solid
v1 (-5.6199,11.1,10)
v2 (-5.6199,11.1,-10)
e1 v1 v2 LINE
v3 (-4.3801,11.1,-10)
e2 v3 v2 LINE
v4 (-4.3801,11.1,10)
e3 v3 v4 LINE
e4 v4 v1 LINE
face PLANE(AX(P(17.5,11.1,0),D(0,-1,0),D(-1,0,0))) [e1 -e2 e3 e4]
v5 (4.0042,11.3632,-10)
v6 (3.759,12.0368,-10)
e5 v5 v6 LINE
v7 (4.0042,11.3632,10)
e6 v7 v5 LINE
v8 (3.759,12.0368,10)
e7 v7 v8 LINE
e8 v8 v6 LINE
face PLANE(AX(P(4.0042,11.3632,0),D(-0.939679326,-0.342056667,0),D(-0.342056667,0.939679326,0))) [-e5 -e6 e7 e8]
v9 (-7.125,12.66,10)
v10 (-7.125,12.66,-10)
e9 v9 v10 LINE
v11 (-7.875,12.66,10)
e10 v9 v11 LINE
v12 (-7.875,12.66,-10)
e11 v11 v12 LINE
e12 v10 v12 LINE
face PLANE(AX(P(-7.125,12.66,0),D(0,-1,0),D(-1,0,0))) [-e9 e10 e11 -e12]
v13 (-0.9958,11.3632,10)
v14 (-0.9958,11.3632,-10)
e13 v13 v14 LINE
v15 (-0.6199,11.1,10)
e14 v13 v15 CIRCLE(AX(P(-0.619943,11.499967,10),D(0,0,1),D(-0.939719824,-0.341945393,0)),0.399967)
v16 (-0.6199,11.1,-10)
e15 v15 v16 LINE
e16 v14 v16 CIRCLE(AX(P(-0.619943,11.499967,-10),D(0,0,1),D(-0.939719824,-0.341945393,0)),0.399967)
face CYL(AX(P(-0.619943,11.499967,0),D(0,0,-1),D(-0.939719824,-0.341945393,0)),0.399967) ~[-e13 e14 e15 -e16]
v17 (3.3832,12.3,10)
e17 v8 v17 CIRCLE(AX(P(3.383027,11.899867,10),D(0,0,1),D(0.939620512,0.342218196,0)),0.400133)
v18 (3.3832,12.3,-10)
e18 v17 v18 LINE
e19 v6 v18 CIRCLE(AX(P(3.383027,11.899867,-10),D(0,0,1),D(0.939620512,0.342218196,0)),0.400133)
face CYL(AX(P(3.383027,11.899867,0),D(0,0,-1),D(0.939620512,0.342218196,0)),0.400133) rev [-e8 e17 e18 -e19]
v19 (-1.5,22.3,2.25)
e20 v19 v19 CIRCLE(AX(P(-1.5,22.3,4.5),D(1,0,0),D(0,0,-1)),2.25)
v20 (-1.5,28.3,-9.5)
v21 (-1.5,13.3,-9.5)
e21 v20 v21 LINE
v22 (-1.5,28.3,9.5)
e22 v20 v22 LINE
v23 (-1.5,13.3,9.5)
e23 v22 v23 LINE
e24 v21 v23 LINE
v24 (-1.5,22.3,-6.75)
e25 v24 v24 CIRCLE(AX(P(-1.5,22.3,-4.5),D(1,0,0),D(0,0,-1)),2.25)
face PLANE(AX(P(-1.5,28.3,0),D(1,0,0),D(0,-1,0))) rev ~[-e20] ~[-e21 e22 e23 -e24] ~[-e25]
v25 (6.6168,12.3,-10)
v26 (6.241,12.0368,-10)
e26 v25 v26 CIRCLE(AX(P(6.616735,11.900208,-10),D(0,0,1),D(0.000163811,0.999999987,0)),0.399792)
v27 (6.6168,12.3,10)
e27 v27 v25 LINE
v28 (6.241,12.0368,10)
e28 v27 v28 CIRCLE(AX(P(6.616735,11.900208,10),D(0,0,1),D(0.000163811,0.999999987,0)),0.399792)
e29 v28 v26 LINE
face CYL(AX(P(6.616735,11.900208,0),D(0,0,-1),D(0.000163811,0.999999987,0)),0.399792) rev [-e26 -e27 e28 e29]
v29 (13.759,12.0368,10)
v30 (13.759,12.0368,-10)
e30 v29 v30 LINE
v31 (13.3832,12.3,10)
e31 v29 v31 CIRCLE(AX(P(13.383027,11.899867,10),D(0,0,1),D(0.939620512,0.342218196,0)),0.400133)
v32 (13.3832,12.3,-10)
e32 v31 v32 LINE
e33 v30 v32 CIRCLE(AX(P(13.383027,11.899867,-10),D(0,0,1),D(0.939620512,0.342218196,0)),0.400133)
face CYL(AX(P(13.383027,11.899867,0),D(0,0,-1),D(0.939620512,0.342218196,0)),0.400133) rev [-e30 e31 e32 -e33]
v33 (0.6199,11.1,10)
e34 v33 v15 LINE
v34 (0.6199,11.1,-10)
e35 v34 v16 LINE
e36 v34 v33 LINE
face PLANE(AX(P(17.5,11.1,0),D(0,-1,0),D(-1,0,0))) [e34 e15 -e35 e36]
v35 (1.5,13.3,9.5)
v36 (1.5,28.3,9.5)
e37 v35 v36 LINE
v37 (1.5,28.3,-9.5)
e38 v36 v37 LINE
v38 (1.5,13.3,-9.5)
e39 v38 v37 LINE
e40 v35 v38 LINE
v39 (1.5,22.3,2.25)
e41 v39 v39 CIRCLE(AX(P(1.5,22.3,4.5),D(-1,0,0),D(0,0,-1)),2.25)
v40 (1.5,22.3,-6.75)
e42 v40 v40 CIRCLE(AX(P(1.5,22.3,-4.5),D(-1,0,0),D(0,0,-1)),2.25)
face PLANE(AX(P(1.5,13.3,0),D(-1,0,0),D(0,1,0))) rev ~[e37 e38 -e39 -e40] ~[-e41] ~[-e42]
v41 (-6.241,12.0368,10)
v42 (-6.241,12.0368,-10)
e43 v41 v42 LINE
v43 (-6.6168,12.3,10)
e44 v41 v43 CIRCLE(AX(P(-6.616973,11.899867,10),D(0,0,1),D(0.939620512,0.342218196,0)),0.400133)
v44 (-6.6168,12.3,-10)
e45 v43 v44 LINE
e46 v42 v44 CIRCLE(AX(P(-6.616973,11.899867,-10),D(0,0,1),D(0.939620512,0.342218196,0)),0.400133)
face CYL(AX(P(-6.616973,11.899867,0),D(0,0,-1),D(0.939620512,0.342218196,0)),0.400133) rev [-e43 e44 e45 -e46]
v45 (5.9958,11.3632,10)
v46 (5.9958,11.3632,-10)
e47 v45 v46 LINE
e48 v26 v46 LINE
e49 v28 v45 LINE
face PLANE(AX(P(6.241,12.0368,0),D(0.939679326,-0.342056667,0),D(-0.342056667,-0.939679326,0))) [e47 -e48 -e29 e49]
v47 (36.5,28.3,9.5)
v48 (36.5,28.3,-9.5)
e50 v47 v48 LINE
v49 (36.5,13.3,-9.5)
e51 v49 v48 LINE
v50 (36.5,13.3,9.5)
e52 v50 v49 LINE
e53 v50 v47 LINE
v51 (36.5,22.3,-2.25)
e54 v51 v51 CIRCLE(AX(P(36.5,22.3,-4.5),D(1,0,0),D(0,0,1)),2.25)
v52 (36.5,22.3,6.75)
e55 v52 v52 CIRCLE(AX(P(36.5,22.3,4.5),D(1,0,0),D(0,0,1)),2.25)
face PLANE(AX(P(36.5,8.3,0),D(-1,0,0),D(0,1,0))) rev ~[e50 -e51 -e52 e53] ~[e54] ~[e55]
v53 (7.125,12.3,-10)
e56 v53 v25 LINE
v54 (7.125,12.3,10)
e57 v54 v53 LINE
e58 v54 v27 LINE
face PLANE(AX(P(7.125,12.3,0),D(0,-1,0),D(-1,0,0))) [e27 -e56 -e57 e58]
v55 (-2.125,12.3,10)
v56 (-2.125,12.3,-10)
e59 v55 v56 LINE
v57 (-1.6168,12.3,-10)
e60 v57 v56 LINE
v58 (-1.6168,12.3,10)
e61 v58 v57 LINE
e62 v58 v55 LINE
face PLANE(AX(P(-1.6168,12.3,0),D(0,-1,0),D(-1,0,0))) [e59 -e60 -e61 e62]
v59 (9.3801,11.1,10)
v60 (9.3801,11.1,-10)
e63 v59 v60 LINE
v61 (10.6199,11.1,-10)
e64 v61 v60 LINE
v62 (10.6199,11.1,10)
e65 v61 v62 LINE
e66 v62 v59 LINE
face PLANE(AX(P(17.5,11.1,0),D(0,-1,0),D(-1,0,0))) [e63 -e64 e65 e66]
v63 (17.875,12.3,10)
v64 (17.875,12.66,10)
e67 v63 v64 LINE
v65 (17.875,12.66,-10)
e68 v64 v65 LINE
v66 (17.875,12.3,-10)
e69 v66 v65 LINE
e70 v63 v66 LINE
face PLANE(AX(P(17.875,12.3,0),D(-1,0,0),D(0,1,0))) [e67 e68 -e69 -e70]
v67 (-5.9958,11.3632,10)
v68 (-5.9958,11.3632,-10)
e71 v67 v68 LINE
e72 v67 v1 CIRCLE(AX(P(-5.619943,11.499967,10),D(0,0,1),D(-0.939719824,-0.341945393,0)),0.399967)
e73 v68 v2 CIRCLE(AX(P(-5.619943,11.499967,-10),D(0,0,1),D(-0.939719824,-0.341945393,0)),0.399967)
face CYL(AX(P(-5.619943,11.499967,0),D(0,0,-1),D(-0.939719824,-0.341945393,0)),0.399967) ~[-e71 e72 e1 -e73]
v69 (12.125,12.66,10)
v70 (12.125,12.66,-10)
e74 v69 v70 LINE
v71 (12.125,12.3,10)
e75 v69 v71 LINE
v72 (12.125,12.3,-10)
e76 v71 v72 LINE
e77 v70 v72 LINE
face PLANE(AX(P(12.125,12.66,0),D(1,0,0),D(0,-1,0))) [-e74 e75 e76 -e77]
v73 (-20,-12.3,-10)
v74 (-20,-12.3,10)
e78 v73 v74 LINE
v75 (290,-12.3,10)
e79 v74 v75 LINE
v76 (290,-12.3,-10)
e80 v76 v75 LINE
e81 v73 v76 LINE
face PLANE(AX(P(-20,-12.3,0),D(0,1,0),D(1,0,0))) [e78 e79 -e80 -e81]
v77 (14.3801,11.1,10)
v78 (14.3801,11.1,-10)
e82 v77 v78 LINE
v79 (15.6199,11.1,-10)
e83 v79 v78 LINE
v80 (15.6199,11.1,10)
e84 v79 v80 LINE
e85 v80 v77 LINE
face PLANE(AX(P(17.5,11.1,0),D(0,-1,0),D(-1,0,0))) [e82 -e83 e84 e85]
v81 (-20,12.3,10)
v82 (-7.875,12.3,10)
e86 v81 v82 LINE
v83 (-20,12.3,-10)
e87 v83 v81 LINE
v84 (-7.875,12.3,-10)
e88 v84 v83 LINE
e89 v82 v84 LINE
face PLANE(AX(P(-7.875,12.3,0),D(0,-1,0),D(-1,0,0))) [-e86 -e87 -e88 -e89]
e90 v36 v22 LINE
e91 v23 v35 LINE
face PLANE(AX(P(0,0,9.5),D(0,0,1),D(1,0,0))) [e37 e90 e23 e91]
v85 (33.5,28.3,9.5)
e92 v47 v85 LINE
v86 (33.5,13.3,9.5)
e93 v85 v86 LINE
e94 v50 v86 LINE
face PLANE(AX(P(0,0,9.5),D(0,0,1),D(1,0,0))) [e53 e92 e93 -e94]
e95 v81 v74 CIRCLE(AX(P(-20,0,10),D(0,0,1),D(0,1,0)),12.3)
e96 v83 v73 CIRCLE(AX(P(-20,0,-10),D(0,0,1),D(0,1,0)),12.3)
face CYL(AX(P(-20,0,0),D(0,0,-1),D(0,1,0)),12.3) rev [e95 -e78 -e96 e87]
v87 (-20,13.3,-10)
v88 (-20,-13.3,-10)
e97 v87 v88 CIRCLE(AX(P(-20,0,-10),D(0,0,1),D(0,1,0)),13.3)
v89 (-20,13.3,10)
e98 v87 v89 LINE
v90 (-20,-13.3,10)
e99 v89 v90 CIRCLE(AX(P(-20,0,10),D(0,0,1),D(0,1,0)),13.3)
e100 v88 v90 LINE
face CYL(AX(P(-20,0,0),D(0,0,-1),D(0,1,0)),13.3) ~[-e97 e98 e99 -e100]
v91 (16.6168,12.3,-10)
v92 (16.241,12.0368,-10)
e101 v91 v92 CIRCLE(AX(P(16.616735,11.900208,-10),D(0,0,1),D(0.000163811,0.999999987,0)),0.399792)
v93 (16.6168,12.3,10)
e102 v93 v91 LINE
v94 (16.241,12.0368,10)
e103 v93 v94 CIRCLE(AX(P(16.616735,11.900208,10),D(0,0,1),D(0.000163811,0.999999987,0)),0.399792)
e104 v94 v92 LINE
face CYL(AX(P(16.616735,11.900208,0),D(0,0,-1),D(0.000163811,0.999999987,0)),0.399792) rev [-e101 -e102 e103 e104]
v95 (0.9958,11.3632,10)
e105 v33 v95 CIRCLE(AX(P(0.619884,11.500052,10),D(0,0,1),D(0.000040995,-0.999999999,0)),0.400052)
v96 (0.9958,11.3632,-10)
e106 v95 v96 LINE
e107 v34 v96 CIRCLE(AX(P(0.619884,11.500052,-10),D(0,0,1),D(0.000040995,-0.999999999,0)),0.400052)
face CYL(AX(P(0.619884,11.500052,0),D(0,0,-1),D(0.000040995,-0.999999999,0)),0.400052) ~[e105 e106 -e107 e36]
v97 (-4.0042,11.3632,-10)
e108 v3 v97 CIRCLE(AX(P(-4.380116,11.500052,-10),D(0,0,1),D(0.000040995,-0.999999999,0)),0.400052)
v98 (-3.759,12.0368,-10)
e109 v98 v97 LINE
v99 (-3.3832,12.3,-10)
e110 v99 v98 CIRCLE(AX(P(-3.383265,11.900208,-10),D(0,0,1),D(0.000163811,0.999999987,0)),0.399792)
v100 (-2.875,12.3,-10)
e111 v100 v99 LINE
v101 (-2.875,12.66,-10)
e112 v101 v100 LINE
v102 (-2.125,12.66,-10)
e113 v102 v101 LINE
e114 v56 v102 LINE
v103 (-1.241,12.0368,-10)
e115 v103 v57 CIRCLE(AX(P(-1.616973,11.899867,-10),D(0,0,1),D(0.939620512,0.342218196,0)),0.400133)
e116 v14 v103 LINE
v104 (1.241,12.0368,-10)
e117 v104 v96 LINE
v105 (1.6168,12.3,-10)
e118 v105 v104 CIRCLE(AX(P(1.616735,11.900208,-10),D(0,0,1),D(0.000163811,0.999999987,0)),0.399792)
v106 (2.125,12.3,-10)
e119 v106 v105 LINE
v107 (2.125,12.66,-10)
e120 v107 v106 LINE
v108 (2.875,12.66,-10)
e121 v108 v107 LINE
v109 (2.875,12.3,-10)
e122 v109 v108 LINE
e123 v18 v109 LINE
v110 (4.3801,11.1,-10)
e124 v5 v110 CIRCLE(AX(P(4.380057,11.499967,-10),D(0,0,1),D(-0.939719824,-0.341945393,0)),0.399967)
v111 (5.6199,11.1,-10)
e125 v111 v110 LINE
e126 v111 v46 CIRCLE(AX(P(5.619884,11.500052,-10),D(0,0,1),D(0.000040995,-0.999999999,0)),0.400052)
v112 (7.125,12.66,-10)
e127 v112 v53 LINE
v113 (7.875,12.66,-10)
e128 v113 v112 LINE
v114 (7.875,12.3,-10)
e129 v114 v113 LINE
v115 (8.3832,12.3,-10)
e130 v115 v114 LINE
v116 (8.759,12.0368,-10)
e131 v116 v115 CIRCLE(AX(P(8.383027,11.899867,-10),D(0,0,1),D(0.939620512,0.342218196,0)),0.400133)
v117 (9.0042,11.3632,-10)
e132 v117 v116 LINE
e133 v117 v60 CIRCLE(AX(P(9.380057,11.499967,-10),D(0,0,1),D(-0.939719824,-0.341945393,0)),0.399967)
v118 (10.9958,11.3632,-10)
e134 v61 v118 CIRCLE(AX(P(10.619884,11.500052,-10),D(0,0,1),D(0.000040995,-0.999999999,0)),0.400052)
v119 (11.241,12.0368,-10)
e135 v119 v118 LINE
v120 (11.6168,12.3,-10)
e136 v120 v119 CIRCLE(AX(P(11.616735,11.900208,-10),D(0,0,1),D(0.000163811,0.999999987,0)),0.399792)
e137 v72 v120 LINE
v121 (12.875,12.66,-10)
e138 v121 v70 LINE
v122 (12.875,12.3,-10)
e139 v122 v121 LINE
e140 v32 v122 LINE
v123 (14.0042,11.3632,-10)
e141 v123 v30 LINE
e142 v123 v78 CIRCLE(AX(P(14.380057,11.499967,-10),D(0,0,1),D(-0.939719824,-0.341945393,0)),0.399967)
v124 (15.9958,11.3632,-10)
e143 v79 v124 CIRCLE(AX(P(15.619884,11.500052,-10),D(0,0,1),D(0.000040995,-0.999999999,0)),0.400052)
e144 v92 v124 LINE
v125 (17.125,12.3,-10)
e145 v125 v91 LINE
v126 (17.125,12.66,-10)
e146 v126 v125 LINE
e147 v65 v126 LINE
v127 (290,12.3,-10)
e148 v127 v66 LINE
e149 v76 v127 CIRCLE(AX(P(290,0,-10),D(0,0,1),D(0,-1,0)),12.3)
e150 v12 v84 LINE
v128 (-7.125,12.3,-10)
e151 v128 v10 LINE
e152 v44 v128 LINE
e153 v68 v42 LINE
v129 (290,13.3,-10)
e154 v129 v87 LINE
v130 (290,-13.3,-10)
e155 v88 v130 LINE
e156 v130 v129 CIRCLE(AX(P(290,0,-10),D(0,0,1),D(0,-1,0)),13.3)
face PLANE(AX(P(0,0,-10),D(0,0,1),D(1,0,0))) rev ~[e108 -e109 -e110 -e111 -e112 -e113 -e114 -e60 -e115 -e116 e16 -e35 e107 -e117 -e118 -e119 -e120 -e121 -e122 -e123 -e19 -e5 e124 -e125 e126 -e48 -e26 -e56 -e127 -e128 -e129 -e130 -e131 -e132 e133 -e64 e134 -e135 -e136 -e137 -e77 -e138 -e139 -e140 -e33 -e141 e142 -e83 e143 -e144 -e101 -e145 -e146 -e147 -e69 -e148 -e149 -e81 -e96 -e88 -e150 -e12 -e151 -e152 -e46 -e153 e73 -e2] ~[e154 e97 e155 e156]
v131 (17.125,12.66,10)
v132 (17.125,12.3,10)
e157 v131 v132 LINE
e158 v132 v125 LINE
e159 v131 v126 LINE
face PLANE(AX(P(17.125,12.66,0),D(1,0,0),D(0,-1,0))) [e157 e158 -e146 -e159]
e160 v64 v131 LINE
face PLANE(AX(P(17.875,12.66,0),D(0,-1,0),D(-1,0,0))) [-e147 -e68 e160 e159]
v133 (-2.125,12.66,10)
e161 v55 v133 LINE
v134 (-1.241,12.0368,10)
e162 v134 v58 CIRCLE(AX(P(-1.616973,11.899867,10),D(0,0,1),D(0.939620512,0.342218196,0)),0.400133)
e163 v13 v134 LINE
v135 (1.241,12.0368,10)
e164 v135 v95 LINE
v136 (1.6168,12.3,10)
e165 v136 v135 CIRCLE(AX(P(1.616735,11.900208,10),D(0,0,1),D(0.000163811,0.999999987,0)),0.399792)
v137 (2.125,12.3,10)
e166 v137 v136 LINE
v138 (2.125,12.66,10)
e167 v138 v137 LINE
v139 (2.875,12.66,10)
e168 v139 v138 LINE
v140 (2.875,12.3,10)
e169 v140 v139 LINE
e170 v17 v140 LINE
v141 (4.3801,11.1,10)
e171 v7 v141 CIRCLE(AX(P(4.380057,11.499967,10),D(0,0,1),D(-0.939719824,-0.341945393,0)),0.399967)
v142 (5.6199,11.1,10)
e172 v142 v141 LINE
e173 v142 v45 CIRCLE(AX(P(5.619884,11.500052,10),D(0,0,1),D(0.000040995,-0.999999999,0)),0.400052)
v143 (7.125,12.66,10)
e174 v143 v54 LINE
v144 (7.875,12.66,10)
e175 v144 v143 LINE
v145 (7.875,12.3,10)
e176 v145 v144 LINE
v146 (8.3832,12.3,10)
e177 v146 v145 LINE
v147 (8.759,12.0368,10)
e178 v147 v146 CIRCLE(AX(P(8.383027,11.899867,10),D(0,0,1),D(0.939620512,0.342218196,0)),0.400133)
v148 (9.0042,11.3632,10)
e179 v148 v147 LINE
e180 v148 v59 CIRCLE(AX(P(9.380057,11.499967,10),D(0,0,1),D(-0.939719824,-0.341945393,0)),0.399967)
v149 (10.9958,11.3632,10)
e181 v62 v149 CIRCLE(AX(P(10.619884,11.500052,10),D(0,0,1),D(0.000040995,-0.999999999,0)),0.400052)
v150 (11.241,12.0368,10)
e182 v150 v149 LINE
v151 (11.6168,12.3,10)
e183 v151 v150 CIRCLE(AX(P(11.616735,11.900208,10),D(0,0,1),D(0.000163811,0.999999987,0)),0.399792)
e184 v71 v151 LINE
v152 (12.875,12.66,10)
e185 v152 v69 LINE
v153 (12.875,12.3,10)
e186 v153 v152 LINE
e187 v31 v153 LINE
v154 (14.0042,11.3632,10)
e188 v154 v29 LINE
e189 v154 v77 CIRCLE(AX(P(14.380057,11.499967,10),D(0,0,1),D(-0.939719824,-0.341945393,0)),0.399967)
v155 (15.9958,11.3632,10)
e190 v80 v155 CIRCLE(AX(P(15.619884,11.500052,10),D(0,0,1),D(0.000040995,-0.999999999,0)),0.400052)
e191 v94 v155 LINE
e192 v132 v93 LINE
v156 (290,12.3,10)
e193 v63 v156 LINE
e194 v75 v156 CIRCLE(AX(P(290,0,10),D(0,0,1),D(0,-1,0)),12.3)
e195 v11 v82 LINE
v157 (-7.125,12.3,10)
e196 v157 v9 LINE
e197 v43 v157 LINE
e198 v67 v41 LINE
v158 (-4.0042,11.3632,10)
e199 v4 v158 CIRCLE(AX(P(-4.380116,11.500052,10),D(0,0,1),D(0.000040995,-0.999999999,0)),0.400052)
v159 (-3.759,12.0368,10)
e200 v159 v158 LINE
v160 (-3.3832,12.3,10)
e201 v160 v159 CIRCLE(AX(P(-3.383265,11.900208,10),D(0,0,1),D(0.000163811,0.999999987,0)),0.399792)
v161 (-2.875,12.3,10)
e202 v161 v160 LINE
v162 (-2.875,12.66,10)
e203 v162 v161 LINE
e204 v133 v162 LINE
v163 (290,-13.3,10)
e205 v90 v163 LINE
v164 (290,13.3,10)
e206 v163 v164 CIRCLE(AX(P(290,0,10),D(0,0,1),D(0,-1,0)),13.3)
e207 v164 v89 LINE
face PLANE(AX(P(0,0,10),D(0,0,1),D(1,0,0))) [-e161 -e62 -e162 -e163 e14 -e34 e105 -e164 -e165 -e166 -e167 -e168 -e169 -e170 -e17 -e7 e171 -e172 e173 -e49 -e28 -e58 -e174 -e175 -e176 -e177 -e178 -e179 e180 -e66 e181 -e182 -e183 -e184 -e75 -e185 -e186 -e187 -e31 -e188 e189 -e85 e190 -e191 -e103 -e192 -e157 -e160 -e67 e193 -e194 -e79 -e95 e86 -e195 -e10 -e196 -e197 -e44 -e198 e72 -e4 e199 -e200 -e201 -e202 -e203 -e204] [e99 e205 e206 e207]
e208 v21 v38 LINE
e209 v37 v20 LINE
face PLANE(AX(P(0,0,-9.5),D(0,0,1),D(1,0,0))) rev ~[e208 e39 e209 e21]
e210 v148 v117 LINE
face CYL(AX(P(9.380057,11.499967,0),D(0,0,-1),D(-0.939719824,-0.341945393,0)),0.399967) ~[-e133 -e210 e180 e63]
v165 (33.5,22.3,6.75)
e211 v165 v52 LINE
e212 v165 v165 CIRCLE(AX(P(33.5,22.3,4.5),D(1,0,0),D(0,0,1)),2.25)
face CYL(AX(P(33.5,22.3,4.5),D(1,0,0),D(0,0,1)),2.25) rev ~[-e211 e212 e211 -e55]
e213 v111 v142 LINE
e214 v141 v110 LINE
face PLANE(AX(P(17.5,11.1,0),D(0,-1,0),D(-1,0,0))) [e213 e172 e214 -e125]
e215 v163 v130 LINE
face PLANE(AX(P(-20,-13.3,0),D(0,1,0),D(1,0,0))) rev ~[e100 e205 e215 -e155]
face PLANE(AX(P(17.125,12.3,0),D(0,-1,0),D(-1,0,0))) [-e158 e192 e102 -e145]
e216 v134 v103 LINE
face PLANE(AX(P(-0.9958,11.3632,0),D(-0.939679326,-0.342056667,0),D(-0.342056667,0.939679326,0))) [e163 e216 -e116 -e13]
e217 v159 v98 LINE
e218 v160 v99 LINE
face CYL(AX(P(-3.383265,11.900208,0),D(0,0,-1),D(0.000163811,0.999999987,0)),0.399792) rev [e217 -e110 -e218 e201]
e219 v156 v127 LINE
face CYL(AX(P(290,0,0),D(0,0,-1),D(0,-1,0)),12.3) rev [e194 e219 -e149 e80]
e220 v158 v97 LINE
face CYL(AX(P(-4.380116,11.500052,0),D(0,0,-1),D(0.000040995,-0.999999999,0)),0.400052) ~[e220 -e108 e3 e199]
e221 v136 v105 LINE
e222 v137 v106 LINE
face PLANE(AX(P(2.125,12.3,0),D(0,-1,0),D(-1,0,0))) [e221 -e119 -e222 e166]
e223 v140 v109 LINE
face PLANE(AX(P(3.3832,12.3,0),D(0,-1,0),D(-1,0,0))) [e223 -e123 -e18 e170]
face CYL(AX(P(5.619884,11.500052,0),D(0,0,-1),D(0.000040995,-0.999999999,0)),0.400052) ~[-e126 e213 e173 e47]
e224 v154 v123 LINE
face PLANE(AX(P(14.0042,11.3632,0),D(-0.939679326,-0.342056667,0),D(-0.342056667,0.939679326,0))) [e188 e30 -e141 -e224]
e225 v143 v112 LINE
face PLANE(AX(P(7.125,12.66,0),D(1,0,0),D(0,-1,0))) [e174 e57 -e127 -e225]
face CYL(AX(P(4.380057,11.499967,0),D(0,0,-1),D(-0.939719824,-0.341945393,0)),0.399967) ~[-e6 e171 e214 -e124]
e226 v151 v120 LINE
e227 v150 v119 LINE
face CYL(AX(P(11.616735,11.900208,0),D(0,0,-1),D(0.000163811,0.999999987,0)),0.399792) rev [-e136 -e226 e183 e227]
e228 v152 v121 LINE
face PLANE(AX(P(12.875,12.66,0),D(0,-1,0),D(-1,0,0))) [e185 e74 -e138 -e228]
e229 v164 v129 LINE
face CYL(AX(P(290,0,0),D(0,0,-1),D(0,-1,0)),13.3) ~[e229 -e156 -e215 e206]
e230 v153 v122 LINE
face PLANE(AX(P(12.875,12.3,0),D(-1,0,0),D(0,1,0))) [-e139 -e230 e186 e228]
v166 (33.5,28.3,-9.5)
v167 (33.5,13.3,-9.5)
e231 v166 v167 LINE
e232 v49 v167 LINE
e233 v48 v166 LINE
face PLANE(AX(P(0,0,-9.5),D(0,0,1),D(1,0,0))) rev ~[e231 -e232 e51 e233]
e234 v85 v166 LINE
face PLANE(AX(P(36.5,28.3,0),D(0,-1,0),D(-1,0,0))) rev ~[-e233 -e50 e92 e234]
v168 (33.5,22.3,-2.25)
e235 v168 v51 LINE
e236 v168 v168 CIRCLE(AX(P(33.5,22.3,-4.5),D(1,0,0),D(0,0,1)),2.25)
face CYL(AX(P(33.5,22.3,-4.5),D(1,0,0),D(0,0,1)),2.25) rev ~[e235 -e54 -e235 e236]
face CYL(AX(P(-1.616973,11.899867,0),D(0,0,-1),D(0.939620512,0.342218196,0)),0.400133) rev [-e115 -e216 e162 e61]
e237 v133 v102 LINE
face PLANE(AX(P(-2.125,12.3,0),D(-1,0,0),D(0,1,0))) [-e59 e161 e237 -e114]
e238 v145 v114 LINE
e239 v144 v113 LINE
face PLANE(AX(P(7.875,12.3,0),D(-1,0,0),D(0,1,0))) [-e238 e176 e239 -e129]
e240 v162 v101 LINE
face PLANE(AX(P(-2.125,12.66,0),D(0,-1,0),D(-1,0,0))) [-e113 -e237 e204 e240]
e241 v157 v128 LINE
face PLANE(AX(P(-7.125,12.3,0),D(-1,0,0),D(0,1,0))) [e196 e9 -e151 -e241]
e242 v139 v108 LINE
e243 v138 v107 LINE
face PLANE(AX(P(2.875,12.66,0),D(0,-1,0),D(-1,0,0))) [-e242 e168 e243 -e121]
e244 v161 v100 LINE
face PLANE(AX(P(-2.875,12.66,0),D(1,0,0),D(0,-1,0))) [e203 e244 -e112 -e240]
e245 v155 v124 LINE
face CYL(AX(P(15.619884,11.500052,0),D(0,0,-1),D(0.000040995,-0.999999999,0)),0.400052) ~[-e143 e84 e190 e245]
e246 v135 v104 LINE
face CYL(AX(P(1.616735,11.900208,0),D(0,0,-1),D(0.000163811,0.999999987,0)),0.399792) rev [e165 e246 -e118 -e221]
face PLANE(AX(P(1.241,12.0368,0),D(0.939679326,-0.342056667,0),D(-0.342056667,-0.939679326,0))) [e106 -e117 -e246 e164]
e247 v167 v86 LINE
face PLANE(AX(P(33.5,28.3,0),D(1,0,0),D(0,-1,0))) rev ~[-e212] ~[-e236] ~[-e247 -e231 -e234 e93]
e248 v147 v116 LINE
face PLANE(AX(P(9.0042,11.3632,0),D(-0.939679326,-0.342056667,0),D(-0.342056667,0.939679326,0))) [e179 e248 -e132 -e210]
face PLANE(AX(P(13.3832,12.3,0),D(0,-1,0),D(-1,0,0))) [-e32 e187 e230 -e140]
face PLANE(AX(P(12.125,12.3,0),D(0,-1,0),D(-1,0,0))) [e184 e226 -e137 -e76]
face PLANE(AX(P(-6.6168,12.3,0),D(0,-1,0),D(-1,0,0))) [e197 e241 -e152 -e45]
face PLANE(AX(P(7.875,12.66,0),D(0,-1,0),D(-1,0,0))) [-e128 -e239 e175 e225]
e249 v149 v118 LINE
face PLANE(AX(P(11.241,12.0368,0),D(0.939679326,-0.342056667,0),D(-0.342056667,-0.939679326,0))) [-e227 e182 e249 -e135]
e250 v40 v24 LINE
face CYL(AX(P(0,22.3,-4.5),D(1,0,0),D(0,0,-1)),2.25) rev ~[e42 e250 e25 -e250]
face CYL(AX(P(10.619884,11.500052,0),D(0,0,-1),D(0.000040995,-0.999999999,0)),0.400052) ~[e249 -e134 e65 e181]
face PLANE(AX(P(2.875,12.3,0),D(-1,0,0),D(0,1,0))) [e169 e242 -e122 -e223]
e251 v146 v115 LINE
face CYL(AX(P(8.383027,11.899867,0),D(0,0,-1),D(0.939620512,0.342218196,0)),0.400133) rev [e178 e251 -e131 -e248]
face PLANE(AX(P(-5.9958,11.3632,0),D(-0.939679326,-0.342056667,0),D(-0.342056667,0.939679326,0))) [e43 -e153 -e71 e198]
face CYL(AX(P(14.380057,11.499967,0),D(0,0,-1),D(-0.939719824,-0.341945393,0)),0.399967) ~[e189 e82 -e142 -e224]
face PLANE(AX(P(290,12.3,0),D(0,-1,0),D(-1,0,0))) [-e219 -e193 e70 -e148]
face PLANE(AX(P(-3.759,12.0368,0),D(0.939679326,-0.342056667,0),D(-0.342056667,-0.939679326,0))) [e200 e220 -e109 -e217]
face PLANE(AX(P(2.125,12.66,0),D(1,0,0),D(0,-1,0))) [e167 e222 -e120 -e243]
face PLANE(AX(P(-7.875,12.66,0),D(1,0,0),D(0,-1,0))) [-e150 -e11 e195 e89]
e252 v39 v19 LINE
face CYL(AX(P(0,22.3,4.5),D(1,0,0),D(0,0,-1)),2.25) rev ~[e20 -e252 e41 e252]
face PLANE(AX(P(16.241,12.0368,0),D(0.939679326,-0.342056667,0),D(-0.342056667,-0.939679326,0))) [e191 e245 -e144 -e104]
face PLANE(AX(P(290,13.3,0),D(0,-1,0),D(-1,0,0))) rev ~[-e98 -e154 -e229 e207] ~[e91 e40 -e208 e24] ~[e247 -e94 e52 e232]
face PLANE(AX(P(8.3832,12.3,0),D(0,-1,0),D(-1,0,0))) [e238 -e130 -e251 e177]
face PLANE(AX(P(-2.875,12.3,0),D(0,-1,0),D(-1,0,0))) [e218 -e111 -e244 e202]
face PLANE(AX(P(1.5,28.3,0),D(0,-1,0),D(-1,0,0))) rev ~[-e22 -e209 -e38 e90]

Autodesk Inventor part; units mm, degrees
ref_plane "XZ Plane" through (0, 0, 0) normal (0, 1, 0) x (-1, 0, 0)
ref_plane "XY Plane" through (0, 0, 0) normal (0, 0, 1) x (1, 0, 0)
sketch "Sketch_2" plane through (0, 0, 0) normal (0, 0, 1) x (1, 0, 0)
  arc A0 (-20, 13.3) -> (-20, -13.3) centre (-20, 0) ccw
  line L0 (-20, -13.3) -> (290, -13.3)
  arc A1 (290, -13.3) -> (290, 13.3) centre (290, 0) ccw
  line L1 (290, 13.3) -> (-20, 13.3)
extrude "Extrusion1" add sketch "Sketch_2" along normal mid plane 20
sketch "Sketch_8" plane through (0, 0, 0) normal (0, 0, 1) x (1, 0, 0)
  line L0 (-1.5, 28.3) -> (-1.5, 13.3)
  line L1 (-1.5, 13.3) -> (1.5, 13.3)
  line L2 (1.5, 13.3) -> (1.5, 28.3)
  line L3 (1.5, 28.3) -> (-1.5, 28.3)
extrude "Extrusion2" add sketch "Sketch_8" along normal mid plane 19
sketch "_____4" plane through (0, 0, 0) normal (1, 0, 0) x (0, 0, -1)
  circle A0 centre (-4.5, 22.3) radius 2.25
extrude "Extrusion3" cut sketch "_____4" along normal mid plane 6
sketch "_____5" plane through (0, 0, 0) normal (1, 0, 0) x (0, 0, -1)
  circle A0 centre (4.5, 22.3) radius 2.25
extrude "Extrusion4" cut sketch "_____5" along normal mid plane 6
sketch "_____2" plane through (0, 0, 0) normal (0, 0, 1) x (1, 0, 0)
  line L0 (33.5, 8.3) -> (36.5, 8.3)
  line L1 (36.5, 8.3) -> (36.5, 28.3)
  line L2 (36.5, 28.3) -> (33.5, 28.3)
  line L3 (33.5, 28.3) -> (33.5, 8.3)
extrude "Extrusion5" add sketch "_____2" along normal mid plane 19
sketch "Sketch6" plane through (33.5, 13.3, 9.5) normal (-1, 0, 0) x (0, 0, 1)
  point P0 (-14, 9)
hole "Hole1" at (33.5, 22.3, -4.5) direction (1, 0, 0) diameter 4.5 depth 3
sketch "Sketch7" plane through (33.5, 13.3, 9.5) normal (-1, 0, 0) x (0, 0, 1)
  point P0 (-5, 9)
hole "Hole2" at (33.5, 22.3, 4.5) direction (1, 0, 0) diameter 4.5 depth 3
sketch "Sketch_4" plane through (0, 0, 0) normal (0, 0, 1) x (1, 0, 0)
  arc A0 (-20, 12.3) -> (-20, -12.3) centre (-20, 0) ccw
  line L0 (-20, -12.3) -> (290, -12.3)
  arc A1 (290, -12.3) -> (290, 12.3) centre (290, 0) ccw
  line L1 (290, 12.3) -> (17.5, 12.3)
  line L2 (17.5, 12.3) -> (17.5, 11.1)
  line L3 (17.5, 11.1) -> (-7.5, 11.1)
  line L4 (-7.5, 11.1) -> (-7.5, 12.3)
  line L5 (-7.5, 12.3) -> (-20, 12.3)
extrude "Extrusion6" cut sketch "Sketch_4" along normal mid plane 20
sketch "Sketch_64" plane through (0, 0, 0) normal (0, 0, 1) x (1, 0, 0)
  line L0 (-9.3801, 11.1) -> (-9.3801, 10.1)
  line L1 (-9.3801, 10.1) -> (-5.6199, 10.1)
  line L2 (-5.6199, 10.1) -> (-5.6199, 11.1)
  arc A0 (-5.9958, 11.3632) -> (-5.6199, 11.1) centre (-5.6199, 11.5) ccw
  line L3 (-5.9958, 11.3632) -> (-6.241, 12.0368)
  arc A1 (-6.241, 12.0368) -> (-6.6168, 12.3) centre (-6.6168, 11.9) ccw
  line L4 (-6.6168, 12.3) -> (-7.125, 12.3)
  line L5 (-7.125, 12.3) -> (-7.125, 12.66)
  line L6 (-7.125, 12.66) -> (-7.875, 12.66)
  line L7 (-7.875, 12.66) -> (-7.875, 12.3)
  line L8 (-7.875, 12.3) -> (-8.3832, 12.3)
  arc A2 (-8.3832, 12.3) -> (-8.759, 12.0368) centre (-8.3832, 11.9) ccw
  line L9 (-8.759, 12.0368) -> (-9.0042, 11.3632)
  arc A3 (-9.3801, 11.1) -> (-9.0042, 11.3632) centre (-9.3801, 11.5) ccw
extrude "Extrusion7" cut sketch "Sketch_64" along normal mid plane 20
pattern_linear "Rectangular Pattern1" count 6 spacing 5 along (1, 0, 0) of "Extrusion7"
ref_plane "作業平面3" through (135, 0, 0) normal (1, 0, 0) x (0, 1, 0)
ref_plane "作業平面1" through (303.3, 0, 0) normal (1, 0, 0) x (0, 1, 0)
ref_plane "作業平面2" through (-33.3, 0, 0) normal (1, 0, 0) x (0, 1, 0)
properties part number "ATBT-700T5200-B-P35_info-1-16-16"
